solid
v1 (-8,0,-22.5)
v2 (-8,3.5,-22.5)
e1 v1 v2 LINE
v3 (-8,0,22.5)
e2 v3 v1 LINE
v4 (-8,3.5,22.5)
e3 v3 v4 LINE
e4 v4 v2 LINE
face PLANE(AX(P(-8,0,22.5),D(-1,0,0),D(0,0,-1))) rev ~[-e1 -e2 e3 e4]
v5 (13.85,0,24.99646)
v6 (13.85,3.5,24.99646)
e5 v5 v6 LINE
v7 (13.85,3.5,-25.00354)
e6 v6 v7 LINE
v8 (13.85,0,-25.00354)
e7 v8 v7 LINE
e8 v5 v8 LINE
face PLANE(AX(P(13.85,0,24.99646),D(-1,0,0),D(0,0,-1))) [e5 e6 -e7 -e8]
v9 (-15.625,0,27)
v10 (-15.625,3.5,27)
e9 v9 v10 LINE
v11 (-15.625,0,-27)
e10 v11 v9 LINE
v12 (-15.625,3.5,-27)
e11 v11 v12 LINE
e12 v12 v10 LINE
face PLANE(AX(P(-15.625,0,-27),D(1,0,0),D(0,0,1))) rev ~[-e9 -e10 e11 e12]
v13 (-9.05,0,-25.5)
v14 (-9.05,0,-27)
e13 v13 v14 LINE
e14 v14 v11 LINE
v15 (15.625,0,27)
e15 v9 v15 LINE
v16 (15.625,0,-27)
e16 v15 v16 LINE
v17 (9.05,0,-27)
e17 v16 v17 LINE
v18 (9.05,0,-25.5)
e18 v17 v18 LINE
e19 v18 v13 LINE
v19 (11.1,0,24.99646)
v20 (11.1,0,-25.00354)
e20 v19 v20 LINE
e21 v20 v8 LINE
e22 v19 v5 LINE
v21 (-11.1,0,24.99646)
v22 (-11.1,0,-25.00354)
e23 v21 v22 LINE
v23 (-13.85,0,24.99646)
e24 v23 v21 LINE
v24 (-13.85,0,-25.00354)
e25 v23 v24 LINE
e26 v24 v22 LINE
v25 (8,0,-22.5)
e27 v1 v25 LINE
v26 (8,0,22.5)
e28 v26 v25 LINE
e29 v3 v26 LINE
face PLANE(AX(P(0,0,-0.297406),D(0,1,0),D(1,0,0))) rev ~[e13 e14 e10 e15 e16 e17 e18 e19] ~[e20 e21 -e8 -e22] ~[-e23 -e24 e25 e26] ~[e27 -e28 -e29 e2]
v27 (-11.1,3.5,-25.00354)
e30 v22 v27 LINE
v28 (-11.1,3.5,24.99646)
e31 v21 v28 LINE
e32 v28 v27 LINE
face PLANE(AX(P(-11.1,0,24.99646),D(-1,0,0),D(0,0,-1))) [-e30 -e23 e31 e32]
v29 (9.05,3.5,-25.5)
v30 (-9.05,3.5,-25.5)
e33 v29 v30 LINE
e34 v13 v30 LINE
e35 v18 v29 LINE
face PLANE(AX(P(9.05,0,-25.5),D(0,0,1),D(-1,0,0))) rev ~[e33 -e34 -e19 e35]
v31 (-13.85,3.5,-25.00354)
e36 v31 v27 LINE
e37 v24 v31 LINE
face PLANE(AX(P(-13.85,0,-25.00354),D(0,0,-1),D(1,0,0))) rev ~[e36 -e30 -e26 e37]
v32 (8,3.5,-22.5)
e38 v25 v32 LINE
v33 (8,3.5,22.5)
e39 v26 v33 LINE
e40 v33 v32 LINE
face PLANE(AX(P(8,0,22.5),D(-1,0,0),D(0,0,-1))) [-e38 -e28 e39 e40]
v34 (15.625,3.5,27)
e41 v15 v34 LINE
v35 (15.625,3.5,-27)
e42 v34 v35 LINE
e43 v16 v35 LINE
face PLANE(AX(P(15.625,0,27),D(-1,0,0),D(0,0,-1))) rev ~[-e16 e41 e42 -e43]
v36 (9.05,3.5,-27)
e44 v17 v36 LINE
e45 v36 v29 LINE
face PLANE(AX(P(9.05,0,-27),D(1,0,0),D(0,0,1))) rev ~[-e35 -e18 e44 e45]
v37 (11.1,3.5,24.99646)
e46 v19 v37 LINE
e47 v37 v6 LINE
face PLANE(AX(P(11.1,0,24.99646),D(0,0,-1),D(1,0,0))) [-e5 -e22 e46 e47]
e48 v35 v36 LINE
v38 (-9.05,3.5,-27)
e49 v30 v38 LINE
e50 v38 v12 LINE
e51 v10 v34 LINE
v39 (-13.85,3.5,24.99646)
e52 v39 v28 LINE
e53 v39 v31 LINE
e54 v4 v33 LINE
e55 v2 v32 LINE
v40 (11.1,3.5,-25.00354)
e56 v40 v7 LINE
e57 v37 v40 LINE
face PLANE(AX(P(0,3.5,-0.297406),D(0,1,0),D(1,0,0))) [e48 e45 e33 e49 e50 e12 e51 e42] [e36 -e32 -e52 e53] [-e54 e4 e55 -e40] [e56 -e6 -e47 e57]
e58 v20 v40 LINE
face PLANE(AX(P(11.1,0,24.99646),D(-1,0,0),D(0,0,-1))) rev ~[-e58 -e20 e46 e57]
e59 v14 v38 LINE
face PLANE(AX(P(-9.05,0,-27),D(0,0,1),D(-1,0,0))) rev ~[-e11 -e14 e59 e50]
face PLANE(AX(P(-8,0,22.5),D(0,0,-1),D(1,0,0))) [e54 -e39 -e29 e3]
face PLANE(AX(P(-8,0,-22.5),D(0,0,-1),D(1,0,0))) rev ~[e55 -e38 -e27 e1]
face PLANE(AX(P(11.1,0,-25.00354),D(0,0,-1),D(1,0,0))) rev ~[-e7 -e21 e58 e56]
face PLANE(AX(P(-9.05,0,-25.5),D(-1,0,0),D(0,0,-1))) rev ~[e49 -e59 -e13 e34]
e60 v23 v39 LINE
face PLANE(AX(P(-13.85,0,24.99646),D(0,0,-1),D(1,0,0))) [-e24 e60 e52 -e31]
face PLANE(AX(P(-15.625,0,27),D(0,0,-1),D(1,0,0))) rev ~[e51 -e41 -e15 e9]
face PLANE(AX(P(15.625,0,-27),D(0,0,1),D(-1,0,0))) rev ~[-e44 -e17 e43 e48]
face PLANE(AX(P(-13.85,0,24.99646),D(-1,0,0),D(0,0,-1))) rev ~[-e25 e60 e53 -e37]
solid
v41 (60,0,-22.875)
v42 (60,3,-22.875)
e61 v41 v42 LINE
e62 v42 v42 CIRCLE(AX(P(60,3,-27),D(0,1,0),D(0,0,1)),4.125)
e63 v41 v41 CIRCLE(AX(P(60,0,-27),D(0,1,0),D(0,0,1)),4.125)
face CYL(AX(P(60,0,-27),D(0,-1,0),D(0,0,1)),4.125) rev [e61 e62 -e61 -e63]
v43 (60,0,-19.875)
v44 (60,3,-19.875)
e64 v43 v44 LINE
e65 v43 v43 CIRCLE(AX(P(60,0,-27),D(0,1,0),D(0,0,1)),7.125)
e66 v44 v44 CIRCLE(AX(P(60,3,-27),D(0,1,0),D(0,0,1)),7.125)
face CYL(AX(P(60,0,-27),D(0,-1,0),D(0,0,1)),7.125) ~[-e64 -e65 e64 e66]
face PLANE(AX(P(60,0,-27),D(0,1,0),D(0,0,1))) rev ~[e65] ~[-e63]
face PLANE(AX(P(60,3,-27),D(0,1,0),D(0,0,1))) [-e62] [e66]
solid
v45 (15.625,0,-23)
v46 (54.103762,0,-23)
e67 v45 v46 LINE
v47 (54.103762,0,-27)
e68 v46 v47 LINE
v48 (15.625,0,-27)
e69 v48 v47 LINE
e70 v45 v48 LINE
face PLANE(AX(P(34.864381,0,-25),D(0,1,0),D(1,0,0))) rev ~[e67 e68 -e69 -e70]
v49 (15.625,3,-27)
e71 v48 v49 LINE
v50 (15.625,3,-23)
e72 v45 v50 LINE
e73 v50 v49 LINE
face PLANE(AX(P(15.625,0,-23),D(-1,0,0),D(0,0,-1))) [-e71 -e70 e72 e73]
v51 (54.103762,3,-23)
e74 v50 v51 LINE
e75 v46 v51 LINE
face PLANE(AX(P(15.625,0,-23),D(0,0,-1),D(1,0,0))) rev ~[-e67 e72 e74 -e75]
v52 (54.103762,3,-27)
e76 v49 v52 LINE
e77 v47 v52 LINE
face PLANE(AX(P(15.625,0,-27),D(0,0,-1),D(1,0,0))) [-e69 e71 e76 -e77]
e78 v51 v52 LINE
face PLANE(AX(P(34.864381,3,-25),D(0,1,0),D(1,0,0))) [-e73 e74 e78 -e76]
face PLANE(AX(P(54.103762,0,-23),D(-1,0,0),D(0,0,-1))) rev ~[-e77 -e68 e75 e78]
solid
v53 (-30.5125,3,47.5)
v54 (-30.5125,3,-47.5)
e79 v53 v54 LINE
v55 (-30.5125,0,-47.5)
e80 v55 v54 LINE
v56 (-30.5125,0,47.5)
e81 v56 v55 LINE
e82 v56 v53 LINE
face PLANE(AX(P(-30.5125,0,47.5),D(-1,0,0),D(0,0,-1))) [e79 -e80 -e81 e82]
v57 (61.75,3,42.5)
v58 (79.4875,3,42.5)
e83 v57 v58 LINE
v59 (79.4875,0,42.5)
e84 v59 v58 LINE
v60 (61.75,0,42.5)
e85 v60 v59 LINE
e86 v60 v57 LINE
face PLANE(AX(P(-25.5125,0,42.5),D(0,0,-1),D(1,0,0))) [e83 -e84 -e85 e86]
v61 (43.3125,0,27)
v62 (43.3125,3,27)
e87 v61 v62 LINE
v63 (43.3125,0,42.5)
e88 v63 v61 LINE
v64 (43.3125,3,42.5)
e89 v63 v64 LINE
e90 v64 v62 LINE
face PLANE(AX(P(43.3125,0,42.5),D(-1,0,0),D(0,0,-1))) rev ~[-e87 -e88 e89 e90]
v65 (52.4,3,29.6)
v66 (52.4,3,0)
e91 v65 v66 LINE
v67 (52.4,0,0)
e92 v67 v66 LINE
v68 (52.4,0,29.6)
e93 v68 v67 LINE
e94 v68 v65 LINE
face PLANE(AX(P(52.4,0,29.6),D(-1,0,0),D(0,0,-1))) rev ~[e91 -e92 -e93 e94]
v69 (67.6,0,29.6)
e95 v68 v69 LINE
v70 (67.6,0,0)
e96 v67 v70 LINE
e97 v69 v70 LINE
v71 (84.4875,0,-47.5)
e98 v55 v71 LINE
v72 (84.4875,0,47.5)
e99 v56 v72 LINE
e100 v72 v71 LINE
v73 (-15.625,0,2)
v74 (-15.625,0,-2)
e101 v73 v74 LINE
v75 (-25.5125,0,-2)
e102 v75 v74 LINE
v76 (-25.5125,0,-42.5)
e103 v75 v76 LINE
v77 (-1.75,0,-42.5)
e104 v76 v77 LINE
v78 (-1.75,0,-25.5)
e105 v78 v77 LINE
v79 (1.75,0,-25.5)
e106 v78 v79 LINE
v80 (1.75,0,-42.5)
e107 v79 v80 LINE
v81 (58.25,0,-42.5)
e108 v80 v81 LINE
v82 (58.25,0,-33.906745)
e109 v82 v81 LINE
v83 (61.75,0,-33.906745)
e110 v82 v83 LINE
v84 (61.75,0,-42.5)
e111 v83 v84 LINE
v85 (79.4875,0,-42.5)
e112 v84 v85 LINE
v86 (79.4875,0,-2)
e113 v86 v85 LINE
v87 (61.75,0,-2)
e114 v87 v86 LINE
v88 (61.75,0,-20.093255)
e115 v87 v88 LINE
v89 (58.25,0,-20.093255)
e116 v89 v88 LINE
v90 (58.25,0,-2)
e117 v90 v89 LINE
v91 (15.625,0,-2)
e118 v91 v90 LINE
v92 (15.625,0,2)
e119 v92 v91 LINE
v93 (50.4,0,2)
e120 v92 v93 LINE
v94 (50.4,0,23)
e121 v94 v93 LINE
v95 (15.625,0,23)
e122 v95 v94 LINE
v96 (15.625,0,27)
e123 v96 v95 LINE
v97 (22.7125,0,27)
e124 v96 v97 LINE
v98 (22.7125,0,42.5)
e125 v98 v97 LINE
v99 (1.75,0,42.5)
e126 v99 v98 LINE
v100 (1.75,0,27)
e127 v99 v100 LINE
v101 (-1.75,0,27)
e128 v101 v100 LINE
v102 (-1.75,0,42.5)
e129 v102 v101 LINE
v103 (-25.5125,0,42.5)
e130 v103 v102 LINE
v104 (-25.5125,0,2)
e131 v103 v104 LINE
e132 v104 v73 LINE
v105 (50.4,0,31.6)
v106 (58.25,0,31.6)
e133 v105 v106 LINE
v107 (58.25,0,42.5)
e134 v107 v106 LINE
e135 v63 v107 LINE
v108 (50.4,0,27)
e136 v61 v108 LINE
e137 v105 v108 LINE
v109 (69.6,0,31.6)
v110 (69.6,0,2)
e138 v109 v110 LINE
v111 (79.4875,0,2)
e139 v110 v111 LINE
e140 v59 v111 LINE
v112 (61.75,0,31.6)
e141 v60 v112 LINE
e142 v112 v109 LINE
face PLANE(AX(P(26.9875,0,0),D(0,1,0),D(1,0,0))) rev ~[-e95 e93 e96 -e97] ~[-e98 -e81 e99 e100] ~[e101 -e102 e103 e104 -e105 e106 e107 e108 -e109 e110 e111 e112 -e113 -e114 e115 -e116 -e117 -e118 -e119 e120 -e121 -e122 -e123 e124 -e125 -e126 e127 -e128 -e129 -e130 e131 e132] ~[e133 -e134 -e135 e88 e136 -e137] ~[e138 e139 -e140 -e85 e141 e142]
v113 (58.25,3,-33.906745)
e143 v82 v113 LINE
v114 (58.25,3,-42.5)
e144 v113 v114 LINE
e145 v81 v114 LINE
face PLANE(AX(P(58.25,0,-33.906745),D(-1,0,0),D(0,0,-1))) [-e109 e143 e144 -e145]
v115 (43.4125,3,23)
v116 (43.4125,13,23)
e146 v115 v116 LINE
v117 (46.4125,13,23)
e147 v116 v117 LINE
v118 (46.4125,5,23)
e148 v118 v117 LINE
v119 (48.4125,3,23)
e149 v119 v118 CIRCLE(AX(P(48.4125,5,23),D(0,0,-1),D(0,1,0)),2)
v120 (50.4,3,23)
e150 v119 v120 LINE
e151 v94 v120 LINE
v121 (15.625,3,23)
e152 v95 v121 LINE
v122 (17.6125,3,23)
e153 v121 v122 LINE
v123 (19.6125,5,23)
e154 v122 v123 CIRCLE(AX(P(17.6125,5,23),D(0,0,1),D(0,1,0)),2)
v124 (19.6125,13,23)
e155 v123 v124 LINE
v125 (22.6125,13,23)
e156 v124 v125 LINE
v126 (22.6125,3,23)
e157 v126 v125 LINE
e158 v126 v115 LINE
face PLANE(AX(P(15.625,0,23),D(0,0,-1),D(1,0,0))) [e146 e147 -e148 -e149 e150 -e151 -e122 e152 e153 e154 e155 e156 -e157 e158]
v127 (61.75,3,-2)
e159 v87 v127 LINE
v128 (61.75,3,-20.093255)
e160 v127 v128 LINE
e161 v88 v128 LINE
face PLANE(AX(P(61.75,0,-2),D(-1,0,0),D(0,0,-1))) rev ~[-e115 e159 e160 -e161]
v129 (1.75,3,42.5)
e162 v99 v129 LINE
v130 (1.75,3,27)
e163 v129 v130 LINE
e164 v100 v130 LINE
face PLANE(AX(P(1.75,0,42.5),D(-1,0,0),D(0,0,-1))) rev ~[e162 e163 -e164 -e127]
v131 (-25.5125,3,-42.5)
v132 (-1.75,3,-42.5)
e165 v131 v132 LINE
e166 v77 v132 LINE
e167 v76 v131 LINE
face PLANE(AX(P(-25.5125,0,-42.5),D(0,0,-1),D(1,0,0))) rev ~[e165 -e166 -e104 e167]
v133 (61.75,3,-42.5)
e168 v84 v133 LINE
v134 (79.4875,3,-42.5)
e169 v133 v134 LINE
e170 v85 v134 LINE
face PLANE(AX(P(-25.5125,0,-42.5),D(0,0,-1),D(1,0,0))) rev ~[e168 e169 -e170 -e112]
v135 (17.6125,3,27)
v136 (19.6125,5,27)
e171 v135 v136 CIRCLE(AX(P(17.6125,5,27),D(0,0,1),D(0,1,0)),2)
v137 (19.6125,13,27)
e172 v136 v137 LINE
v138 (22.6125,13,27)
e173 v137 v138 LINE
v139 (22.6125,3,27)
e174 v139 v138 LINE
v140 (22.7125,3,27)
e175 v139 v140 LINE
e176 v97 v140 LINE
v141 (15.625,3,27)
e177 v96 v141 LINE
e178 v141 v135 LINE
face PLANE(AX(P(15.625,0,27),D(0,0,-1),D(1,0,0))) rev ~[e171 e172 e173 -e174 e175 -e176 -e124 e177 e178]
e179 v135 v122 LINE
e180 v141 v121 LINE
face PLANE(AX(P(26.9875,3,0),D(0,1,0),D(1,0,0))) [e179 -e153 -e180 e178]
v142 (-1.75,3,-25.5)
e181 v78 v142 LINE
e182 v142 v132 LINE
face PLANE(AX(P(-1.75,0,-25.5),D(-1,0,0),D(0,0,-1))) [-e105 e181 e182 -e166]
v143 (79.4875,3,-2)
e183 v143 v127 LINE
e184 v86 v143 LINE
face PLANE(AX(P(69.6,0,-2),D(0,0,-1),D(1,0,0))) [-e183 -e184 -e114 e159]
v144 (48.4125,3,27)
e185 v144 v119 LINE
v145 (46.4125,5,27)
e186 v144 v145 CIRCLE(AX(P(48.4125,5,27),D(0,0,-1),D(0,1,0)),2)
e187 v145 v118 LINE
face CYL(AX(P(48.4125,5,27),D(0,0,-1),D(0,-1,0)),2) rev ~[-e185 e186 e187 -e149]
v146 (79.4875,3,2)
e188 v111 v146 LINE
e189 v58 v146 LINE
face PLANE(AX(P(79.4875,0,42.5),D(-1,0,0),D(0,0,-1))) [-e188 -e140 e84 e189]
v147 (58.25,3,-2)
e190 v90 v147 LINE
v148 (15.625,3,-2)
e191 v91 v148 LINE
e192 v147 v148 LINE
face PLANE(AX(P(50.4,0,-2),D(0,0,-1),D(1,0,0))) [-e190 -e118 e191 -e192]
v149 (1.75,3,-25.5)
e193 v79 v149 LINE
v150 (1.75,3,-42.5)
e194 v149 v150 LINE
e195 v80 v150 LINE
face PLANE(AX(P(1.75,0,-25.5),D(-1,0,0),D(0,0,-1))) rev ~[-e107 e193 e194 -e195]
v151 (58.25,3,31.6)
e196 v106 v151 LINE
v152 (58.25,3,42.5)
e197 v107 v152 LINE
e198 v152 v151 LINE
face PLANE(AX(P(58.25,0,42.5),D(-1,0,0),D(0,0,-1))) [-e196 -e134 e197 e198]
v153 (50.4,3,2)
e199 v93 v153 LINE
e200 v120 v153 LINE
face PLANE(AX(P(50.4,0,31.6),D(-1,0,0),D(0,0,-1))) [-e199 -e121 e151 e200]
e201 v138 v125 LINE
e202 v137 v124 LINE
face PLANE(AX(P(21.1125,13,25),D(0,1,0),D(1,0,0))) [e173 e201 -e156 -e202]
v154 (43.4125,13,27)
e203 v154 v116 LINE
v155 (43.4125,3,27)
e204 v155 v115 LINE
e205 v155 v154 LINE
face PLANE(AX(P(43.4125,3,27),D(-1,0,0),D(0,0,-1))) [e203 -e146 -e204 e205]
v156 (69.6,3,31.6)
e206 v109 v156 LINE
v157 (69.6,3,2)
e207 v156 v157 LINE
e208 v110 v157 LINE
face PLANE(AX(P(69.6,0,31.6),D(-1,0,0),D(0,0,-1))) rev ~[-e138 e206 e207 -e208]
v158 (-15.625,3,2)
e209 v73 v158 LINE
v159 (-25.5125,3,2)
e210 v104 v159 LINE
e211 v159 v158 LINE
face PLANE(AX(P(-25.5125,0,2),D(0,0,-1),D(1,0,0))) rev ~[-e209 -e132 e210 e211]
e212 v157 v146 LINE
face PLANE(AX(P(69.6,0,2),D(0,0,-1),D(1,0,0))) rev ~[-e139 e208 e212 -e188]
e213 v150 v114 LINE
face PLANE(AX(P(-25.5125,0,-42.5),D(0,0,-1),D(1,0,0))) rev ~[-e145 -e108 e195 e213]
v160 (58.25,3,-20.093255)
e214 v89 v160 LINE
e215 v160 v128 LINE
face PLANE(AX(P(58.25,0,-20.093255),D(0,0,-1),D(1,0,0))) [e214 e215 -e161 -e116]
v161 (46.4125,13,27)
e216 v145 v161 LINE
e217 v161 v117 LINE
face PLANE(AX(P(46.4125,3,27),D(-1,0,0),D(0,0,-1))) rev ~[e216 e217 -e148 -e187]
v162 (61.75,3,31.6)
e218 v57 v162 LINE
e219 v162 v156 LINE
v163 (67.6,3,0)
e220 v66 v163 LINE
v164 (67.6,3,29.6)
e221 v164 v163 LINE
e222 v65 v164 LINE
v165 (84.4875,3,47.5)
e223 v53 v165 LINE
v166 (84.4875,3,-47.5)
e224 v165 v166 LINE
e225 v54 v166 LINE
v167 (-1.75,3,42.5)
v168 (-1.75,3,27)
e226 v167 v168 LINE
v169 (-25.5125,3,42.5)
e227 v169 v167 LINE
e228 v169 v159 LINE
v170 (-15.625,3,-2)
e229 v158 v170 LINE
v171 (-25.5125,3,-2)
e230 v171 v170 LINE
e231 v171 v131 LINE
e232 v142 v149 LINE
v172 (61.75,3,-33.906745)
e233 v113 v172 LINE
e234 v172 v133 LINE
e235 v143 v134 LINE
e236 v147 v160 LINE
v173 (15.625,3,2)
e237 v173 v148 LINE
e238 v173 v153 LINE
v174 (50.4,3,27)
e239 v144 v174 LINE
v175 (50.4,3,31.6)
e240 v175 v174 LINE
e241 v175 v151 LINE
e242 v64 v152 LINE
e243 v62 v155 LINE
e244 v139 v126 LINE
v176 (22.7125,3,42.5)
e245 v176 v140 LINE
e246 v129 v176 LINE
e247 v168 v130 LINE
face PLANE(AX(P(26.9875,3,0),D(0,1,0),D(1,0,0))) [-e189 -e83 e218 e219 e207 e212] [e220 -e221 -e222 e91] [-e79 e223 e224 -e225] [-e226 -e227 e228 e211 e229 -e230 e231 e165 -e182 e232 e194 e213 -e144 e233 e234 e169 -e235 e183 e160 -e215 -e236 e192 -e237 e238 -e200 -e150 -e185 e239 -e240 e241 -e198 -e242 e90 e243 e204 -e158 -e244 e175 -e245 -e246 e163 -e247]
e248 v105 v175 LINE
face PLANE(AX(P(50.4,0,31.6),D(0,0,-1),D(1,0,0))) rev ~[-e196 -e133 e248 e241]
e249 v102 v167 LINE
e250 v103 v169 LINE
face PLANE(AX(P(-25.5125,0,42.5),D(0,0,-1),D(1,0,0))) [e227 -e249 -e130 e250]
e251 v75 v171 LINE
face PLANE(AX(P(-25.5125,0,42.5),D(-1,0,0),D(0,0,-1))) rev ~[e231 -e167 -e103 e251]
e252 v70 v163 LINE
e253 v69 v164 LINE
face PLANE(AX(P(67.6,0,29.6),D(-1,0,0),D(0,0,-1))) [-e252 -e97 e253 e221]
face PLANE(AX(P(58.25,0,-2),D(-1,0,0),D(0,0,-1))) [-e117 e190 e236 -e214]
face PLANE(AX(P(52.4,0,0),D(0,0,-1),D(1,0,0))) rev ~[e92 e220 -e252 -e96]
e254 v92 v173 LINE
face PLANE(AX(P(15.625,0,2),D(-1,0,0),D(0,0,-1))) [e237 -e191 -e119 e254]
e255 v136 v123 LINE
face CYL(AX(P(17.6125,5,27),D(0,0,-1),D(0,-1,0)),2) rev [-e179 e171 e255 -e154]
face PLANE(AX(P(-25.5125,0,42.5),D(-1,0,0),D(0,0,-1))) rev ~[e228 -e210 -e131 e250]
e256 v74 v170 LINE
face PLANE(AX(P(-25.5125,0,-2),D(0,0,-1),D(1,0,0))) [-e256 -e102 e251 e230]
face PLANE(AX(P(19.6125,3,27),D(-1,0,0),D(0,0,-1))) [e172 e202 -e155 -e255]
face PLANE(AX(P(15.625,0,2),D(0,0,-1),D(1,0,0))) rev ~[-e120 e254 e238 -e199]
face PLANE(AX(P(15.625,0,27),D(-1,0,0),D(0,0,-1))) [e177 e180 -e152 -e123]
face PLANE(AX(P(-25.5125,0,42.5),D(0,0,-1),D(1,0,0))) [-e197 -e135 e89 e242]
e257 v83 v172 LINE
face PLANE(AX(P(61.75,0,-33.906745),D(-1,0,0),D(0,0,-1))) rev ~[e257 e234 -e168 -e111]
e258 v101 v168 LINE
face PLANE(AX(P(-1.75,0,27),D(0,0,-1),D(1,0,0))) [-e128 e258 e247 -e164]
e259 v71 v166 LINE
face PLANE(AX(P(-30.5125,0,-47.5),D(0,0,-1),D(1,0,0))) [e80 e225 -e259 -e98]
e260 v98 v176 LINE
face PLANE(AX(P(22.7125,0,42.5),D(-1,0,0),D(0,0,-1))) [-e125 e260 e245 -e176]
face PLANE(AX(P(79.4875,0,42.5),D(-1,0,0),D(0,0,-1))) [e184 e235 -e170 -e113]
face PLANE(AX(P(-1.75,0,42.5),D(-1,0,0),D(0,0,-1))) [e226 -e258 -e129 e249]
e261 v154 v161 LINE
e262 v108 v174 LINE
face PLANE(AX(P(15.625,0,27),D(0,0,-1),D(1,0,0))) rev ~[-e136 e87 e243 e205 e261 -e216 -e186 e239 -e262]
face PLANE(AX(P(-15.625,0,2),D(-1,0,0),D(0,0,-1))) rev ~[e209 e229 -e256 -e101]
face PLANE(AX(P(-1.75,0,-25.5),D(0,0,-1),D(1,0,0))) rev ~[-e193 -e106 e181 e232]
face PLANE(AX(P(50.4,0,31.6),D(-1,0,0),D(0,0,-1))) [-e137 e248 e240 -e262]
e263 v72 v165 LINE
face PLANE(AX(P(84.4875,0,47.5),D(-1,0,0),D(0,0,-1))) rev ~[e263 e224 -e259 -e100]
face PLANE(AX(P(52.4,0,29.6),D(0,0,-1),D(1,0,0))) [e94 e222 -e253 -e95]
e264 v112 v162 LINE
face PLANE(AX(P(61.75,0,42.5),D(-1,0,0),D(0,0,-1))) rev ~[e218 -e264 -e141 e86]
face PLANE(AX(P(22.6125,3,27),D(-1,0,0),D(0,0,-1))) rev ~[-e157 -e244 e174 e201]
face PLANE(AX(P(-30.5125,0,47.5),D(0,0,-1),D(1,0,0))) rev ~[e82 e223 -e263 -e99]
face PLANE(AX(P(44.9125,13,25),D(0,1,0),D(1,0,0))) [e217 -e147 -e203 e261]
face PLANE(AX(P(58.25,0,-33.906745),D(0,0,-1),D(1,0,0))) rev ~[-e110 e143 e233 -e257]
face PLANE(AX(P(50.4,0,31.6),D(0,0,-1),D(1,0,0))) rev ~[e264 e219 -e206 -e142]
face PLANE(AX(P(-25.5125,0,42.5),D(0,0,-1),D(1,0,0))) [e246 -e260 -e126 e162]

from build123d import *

# Parameters (mm, degrees)
SKETCH2_W           = 16
SKETCH2_H           = 45
SKETCH2_W_2         = 2.75
SKETCH2_H_2         = 50
BOSS_EXTRUDE1_DEPTH = 3.5
SKETCH3_W           = 19.2
SKETCH3_H           = 33.6
SKETCH3_W_2         = 15.2
SKETCH3_H_2         = 29.6
BOSS_EXTRUDE3_DEPTH = 3
SKETCH5_R           = 7.125
SKETCH5_R_2         = 4.125
BOSS_EXTRUDE5_DEPTH = 3
SKETCH4_W           = 115
SKETCH4_H           = 95
SKETCH4_W_2         = 110
SKETCH4_H_2         = 90
SKETCH4_W_3         = 105
SKETCH4_H_3         = 85
SKETCH4_W_4         = 3.5
SKETCH4_H_4         = 17
SKETCH4_W_5         = 9.8875
SKETCH4_H_5         = 4
SKETCH4_W_6         = 34.775
SKETCH4_H_6         = 15.5
SKETCH4_H_7         = 18.093255108
SKETCH4_H_8         = 8.593255108
SKETCH4_H_9         = 10.9
SKETCH4_W_7         = 38.478761792
SKETCH4_W_8         = 20.6
BOSS_EXTRUDE4_DEPTH = 3
SKETCH7_W           = 3
SKETCH7_H           = 4
BOSS_EXTRUDE6_DEPTH = 10
FILLET1_R           = 2
FILLET2_R           = 2


with BuildPart() as part:
    # Sketch2 → Boss-Extrude1 (new body)
    with BuildSketch(Plane(origin=(0, 0, 0), x_dir=(1, 0, 0), z_dir=(0, 1, 0))):
        Polygon((-15.625, -27), (15.625, -27), (15.625, 27), (9.05, 27), (9.05, 25.5), (-9.05, 25.5), (-9.05, 27), (-15.625, 27), align=None)
        Rectangle(SKETCH2_W, SKETCH2_H, mode=Mode.SUBTRACT)
        with Locations((12.475, 0.003539823)):
            Rectangle(SKETCH2_W_2, SKETCH2_H_2, mode=Mode.SUBTRACT)
        with Locations((-12.475, 0.003539823)):
            Rectangle(SKETCH2_W_2, SKETCH2_H_2, mode=Mode.SUBTRACT)
    extrude(amount=BOSS_EXTRUDE1_DEPTH)


with BuildPart() as body_2:
    # Sketch3 → Boss-Extrude3 (new body)
    with BuildSketch(Plane(origin=(0, 0, 0), x_dir=(1, 0, 0), z_dir=(0, 1, 0))):
        with Locations((60, -14.8)):
            Rectangle(SKETCH3_W, SKETCH3_H)
        with Locations((60, -14.8)):
            Rectangle(SKETCH3_W_2, SKETCH3_H_2, mode=Mode.SUBTRACT)
    extrude(amount=BOSS_EXTRUDE3_DEPTH)

    # Sketch4 → Boss-Extrude4 (add)
    # profile 1 of 13: a face of its own
    with BuildSketch(Plane(origin=(0, 0, 0), x_dir=(1, 0, 0), z_dir=(0, 1, 0))):
        with Locations((26.9875, 0)):
            Rectangle(SKETCH4_W, SKETCH4_H)
        with Locations((26.9875, 0)):
            Rectangle(SKETCH4_W_2, SKETCH4_H_2, mode=Mode.SUBTRACT)
    # profile 2 of 13: a face of its own
    with BuildSketch(Plane(origin=(0, 0, 0), x_dir=(1, 0, 0), z_dir=(0, 1, 0))):
        with Locations((26.9875, 0)):
            Rectangle(SKETCH4_W_2, SKETCH4_H_2)
        with Locations((26.9875, 0)):
            Rectangle(SKETCH4_W_3, SKETCH4_H_3, mode=Mode.SUBTRACT)
    # profile 3 of 13: a face of its own
    with BuildSketch(Plane(origin=(0, 0, 0), x_dir=(1, 0, 0), z_dir=(0, 1, 0))):
        with Locations((0, 34)):
            Rectangle(SKETCH4_W_4, SKETCH4_H_4)
    # profile 4 of 13: a face of its own
    with BuildSketch(Plane(origin=(0, 0, 0), x_dir=(1, 0, 0), z_dir=(0, 1, 0))):
        with Locations((-20.56875, 0)):
            Rectangle(SKETCH4_W_5, SKETCH4_H_5)
    # profile 5 of 13: a face of its own
    with BuildSketch(Plane(origin=(0, 0, 0), x_dir=(1, 0, 0), z_dir=(0, 1, 0))):
        with Locations((33.0125, 0)):
            Rectangle(SKETCH4_W_6, SKETCH4_H_5)
    # profile 6 of 13: a face of its own
    with BuildSketch(Plane(origin=(0, 0, 0), x_dir=(1, 0, 0), z_dir=(0, 1, 0))):
        with Locations((74.54375, 0)):
            Rectangle(SKETCH4_W_5, SKETCH4_H_5)
    # profile 7 of 13: a face of its own
    with BuildSketch(Plane(origin=(0, 0, 0), x_dir=(1, 0, 0), z_dir=(0, 1, 0))):
        with Locations((0, -34.75)):
            Rectangle(SKETCH4_W_4, SKETCH4_H_6)
    # profile 8 of 13: a face of its own
    with BuildSketch(Plane(origin=(0, 0, 0), x_dir=(1, 0, 0), z_dir=(0, 1, 0))):
        with Locations((60, 11.046627554)):
            Rectangle(SKETCH4_W_4, SKETCH4_H_7)
    # profile 9 of 13: a face of its own
    with BuildSketch(Plane(origin=(0, 0, 0), x_dir=(1, 0, 0), z_dir=(0, 1, 0))):
        with Locations((60, 38.203372446)):
            Rectangle(SKETCH4_W_4, SKETCH4_H_8)
    # profile 10 of 13: a face of its own
    with BuildSketch(Plane(origin=(0, 0, 0), x_dir=(1, 0, 0), z_dir=(0, 1, 0))):
        with Locations((60, -37.05)):
            Rectangle(SKETCH4_W_4, SKETCH4_H_9)
    # profile 11 of 13: a face of its own
    with BuildSketch(Plane(origin=(0, 0, 0), x_dir=(1, 0, 0), z_dir=(0, 1, 0))):
        with Locations((34.864380896, 25)):
            Rectangle(SKETCH4_W_7, SKETCH4_H_5)
    # profile 12 of 13: a face of its own
    with BuildSketch(Plane(origin=(0, 0, 0), x_dir=(1, 0, 0), z_dir=(0, 1, 0))):
        with Locations((33.0125, -25)):
            Rectangle(SKETCH4_W_6, SKETCH4_H_5)
    # profile 13 of 13: a face of its own
    with BuildSketch(Plane(origin=(0, 0, 0), x_dir=(1, 0, 0), z_dir=(0, 1, 0))):
        with Locations((33.0125, -34.75)):
            Rectangle(SKETCH4_W_8, SKETCH4_H_6)
    extrude(amount=BOSS_EXTRUDE4_DEPTH)


with BuildPart() as body_3:
    # Sketch5 → Boss-Extrude5 (new body)
    with BuildSketch(Plane(origin=(0, 0, 0), x_dir=(1, 0, 0), z_dir=(0, 1, 0))):
        with Locations(Location((60, 27, 0), (0, 0, 270))):
            Circle(SKETCH5_R)
        with Locations(Location((60, 27, 0), (0, 0, 270))):
            Circle(SKETCH5_R_2, mode=Mode.SUBTRACT)
    extrude(amount=BOSS_EXTRUDE5_DEPTH)


with BuildPart() as boss_extrude4_piece_1:
    # of the separate pieces the step leaves, piece 1, a body of its own (boss_extrude4_pieces)
    add(body_2.part.solids().sort_by_distance((58.25, 0, -2))[0])

    # Sketch7 → Boss-Extrude6 (add)
    with BuildSketch(Plane(origin=(0, 3, 0), x_dir=(1, 0, 0), z_dir=(0, 1, 0))):
        with Locations((21.1125, -25)):
            Rectangle(SKETCH7_W, SKETCH7_H)
        with Locations((44.9125, -25)):
            Rectangle(SKETCH7_W, SKETCH7_H)
    extrude(amount=BOSS_EXTRUDE6_DEPTH)

    # Fillet1
    fillet1_edges = [boss_extrude4_piece_1.edges().sort_by_distance(p)[0] for p in [
        (19.6125, 3, 25),
    ]]
    fillet(fillet1_edges, radius=FILLET1_R)

    # Fillet2
    fillet2_edges = [boss_extrude4_piece_1.edges().sort_by_distance(p)[0] for p in [
        (46.4125, 3, 25),
    ]]
    fillet(fillet2_edges, radius=FILLET2_R)


with BuildPart() as boss_extrude4_piece_2:
    # of the separate pieces the step leaves, piece 2, a body of its own (boss_extrude4_pieces)
    add(body_2.part.solids().sort_by_distance((54.103761792, 0, -27))[0])


solid = Compound([part.part, body_3.part, boss_extrude4_piece_1.part, boss_extrude4_piece_2.part])
